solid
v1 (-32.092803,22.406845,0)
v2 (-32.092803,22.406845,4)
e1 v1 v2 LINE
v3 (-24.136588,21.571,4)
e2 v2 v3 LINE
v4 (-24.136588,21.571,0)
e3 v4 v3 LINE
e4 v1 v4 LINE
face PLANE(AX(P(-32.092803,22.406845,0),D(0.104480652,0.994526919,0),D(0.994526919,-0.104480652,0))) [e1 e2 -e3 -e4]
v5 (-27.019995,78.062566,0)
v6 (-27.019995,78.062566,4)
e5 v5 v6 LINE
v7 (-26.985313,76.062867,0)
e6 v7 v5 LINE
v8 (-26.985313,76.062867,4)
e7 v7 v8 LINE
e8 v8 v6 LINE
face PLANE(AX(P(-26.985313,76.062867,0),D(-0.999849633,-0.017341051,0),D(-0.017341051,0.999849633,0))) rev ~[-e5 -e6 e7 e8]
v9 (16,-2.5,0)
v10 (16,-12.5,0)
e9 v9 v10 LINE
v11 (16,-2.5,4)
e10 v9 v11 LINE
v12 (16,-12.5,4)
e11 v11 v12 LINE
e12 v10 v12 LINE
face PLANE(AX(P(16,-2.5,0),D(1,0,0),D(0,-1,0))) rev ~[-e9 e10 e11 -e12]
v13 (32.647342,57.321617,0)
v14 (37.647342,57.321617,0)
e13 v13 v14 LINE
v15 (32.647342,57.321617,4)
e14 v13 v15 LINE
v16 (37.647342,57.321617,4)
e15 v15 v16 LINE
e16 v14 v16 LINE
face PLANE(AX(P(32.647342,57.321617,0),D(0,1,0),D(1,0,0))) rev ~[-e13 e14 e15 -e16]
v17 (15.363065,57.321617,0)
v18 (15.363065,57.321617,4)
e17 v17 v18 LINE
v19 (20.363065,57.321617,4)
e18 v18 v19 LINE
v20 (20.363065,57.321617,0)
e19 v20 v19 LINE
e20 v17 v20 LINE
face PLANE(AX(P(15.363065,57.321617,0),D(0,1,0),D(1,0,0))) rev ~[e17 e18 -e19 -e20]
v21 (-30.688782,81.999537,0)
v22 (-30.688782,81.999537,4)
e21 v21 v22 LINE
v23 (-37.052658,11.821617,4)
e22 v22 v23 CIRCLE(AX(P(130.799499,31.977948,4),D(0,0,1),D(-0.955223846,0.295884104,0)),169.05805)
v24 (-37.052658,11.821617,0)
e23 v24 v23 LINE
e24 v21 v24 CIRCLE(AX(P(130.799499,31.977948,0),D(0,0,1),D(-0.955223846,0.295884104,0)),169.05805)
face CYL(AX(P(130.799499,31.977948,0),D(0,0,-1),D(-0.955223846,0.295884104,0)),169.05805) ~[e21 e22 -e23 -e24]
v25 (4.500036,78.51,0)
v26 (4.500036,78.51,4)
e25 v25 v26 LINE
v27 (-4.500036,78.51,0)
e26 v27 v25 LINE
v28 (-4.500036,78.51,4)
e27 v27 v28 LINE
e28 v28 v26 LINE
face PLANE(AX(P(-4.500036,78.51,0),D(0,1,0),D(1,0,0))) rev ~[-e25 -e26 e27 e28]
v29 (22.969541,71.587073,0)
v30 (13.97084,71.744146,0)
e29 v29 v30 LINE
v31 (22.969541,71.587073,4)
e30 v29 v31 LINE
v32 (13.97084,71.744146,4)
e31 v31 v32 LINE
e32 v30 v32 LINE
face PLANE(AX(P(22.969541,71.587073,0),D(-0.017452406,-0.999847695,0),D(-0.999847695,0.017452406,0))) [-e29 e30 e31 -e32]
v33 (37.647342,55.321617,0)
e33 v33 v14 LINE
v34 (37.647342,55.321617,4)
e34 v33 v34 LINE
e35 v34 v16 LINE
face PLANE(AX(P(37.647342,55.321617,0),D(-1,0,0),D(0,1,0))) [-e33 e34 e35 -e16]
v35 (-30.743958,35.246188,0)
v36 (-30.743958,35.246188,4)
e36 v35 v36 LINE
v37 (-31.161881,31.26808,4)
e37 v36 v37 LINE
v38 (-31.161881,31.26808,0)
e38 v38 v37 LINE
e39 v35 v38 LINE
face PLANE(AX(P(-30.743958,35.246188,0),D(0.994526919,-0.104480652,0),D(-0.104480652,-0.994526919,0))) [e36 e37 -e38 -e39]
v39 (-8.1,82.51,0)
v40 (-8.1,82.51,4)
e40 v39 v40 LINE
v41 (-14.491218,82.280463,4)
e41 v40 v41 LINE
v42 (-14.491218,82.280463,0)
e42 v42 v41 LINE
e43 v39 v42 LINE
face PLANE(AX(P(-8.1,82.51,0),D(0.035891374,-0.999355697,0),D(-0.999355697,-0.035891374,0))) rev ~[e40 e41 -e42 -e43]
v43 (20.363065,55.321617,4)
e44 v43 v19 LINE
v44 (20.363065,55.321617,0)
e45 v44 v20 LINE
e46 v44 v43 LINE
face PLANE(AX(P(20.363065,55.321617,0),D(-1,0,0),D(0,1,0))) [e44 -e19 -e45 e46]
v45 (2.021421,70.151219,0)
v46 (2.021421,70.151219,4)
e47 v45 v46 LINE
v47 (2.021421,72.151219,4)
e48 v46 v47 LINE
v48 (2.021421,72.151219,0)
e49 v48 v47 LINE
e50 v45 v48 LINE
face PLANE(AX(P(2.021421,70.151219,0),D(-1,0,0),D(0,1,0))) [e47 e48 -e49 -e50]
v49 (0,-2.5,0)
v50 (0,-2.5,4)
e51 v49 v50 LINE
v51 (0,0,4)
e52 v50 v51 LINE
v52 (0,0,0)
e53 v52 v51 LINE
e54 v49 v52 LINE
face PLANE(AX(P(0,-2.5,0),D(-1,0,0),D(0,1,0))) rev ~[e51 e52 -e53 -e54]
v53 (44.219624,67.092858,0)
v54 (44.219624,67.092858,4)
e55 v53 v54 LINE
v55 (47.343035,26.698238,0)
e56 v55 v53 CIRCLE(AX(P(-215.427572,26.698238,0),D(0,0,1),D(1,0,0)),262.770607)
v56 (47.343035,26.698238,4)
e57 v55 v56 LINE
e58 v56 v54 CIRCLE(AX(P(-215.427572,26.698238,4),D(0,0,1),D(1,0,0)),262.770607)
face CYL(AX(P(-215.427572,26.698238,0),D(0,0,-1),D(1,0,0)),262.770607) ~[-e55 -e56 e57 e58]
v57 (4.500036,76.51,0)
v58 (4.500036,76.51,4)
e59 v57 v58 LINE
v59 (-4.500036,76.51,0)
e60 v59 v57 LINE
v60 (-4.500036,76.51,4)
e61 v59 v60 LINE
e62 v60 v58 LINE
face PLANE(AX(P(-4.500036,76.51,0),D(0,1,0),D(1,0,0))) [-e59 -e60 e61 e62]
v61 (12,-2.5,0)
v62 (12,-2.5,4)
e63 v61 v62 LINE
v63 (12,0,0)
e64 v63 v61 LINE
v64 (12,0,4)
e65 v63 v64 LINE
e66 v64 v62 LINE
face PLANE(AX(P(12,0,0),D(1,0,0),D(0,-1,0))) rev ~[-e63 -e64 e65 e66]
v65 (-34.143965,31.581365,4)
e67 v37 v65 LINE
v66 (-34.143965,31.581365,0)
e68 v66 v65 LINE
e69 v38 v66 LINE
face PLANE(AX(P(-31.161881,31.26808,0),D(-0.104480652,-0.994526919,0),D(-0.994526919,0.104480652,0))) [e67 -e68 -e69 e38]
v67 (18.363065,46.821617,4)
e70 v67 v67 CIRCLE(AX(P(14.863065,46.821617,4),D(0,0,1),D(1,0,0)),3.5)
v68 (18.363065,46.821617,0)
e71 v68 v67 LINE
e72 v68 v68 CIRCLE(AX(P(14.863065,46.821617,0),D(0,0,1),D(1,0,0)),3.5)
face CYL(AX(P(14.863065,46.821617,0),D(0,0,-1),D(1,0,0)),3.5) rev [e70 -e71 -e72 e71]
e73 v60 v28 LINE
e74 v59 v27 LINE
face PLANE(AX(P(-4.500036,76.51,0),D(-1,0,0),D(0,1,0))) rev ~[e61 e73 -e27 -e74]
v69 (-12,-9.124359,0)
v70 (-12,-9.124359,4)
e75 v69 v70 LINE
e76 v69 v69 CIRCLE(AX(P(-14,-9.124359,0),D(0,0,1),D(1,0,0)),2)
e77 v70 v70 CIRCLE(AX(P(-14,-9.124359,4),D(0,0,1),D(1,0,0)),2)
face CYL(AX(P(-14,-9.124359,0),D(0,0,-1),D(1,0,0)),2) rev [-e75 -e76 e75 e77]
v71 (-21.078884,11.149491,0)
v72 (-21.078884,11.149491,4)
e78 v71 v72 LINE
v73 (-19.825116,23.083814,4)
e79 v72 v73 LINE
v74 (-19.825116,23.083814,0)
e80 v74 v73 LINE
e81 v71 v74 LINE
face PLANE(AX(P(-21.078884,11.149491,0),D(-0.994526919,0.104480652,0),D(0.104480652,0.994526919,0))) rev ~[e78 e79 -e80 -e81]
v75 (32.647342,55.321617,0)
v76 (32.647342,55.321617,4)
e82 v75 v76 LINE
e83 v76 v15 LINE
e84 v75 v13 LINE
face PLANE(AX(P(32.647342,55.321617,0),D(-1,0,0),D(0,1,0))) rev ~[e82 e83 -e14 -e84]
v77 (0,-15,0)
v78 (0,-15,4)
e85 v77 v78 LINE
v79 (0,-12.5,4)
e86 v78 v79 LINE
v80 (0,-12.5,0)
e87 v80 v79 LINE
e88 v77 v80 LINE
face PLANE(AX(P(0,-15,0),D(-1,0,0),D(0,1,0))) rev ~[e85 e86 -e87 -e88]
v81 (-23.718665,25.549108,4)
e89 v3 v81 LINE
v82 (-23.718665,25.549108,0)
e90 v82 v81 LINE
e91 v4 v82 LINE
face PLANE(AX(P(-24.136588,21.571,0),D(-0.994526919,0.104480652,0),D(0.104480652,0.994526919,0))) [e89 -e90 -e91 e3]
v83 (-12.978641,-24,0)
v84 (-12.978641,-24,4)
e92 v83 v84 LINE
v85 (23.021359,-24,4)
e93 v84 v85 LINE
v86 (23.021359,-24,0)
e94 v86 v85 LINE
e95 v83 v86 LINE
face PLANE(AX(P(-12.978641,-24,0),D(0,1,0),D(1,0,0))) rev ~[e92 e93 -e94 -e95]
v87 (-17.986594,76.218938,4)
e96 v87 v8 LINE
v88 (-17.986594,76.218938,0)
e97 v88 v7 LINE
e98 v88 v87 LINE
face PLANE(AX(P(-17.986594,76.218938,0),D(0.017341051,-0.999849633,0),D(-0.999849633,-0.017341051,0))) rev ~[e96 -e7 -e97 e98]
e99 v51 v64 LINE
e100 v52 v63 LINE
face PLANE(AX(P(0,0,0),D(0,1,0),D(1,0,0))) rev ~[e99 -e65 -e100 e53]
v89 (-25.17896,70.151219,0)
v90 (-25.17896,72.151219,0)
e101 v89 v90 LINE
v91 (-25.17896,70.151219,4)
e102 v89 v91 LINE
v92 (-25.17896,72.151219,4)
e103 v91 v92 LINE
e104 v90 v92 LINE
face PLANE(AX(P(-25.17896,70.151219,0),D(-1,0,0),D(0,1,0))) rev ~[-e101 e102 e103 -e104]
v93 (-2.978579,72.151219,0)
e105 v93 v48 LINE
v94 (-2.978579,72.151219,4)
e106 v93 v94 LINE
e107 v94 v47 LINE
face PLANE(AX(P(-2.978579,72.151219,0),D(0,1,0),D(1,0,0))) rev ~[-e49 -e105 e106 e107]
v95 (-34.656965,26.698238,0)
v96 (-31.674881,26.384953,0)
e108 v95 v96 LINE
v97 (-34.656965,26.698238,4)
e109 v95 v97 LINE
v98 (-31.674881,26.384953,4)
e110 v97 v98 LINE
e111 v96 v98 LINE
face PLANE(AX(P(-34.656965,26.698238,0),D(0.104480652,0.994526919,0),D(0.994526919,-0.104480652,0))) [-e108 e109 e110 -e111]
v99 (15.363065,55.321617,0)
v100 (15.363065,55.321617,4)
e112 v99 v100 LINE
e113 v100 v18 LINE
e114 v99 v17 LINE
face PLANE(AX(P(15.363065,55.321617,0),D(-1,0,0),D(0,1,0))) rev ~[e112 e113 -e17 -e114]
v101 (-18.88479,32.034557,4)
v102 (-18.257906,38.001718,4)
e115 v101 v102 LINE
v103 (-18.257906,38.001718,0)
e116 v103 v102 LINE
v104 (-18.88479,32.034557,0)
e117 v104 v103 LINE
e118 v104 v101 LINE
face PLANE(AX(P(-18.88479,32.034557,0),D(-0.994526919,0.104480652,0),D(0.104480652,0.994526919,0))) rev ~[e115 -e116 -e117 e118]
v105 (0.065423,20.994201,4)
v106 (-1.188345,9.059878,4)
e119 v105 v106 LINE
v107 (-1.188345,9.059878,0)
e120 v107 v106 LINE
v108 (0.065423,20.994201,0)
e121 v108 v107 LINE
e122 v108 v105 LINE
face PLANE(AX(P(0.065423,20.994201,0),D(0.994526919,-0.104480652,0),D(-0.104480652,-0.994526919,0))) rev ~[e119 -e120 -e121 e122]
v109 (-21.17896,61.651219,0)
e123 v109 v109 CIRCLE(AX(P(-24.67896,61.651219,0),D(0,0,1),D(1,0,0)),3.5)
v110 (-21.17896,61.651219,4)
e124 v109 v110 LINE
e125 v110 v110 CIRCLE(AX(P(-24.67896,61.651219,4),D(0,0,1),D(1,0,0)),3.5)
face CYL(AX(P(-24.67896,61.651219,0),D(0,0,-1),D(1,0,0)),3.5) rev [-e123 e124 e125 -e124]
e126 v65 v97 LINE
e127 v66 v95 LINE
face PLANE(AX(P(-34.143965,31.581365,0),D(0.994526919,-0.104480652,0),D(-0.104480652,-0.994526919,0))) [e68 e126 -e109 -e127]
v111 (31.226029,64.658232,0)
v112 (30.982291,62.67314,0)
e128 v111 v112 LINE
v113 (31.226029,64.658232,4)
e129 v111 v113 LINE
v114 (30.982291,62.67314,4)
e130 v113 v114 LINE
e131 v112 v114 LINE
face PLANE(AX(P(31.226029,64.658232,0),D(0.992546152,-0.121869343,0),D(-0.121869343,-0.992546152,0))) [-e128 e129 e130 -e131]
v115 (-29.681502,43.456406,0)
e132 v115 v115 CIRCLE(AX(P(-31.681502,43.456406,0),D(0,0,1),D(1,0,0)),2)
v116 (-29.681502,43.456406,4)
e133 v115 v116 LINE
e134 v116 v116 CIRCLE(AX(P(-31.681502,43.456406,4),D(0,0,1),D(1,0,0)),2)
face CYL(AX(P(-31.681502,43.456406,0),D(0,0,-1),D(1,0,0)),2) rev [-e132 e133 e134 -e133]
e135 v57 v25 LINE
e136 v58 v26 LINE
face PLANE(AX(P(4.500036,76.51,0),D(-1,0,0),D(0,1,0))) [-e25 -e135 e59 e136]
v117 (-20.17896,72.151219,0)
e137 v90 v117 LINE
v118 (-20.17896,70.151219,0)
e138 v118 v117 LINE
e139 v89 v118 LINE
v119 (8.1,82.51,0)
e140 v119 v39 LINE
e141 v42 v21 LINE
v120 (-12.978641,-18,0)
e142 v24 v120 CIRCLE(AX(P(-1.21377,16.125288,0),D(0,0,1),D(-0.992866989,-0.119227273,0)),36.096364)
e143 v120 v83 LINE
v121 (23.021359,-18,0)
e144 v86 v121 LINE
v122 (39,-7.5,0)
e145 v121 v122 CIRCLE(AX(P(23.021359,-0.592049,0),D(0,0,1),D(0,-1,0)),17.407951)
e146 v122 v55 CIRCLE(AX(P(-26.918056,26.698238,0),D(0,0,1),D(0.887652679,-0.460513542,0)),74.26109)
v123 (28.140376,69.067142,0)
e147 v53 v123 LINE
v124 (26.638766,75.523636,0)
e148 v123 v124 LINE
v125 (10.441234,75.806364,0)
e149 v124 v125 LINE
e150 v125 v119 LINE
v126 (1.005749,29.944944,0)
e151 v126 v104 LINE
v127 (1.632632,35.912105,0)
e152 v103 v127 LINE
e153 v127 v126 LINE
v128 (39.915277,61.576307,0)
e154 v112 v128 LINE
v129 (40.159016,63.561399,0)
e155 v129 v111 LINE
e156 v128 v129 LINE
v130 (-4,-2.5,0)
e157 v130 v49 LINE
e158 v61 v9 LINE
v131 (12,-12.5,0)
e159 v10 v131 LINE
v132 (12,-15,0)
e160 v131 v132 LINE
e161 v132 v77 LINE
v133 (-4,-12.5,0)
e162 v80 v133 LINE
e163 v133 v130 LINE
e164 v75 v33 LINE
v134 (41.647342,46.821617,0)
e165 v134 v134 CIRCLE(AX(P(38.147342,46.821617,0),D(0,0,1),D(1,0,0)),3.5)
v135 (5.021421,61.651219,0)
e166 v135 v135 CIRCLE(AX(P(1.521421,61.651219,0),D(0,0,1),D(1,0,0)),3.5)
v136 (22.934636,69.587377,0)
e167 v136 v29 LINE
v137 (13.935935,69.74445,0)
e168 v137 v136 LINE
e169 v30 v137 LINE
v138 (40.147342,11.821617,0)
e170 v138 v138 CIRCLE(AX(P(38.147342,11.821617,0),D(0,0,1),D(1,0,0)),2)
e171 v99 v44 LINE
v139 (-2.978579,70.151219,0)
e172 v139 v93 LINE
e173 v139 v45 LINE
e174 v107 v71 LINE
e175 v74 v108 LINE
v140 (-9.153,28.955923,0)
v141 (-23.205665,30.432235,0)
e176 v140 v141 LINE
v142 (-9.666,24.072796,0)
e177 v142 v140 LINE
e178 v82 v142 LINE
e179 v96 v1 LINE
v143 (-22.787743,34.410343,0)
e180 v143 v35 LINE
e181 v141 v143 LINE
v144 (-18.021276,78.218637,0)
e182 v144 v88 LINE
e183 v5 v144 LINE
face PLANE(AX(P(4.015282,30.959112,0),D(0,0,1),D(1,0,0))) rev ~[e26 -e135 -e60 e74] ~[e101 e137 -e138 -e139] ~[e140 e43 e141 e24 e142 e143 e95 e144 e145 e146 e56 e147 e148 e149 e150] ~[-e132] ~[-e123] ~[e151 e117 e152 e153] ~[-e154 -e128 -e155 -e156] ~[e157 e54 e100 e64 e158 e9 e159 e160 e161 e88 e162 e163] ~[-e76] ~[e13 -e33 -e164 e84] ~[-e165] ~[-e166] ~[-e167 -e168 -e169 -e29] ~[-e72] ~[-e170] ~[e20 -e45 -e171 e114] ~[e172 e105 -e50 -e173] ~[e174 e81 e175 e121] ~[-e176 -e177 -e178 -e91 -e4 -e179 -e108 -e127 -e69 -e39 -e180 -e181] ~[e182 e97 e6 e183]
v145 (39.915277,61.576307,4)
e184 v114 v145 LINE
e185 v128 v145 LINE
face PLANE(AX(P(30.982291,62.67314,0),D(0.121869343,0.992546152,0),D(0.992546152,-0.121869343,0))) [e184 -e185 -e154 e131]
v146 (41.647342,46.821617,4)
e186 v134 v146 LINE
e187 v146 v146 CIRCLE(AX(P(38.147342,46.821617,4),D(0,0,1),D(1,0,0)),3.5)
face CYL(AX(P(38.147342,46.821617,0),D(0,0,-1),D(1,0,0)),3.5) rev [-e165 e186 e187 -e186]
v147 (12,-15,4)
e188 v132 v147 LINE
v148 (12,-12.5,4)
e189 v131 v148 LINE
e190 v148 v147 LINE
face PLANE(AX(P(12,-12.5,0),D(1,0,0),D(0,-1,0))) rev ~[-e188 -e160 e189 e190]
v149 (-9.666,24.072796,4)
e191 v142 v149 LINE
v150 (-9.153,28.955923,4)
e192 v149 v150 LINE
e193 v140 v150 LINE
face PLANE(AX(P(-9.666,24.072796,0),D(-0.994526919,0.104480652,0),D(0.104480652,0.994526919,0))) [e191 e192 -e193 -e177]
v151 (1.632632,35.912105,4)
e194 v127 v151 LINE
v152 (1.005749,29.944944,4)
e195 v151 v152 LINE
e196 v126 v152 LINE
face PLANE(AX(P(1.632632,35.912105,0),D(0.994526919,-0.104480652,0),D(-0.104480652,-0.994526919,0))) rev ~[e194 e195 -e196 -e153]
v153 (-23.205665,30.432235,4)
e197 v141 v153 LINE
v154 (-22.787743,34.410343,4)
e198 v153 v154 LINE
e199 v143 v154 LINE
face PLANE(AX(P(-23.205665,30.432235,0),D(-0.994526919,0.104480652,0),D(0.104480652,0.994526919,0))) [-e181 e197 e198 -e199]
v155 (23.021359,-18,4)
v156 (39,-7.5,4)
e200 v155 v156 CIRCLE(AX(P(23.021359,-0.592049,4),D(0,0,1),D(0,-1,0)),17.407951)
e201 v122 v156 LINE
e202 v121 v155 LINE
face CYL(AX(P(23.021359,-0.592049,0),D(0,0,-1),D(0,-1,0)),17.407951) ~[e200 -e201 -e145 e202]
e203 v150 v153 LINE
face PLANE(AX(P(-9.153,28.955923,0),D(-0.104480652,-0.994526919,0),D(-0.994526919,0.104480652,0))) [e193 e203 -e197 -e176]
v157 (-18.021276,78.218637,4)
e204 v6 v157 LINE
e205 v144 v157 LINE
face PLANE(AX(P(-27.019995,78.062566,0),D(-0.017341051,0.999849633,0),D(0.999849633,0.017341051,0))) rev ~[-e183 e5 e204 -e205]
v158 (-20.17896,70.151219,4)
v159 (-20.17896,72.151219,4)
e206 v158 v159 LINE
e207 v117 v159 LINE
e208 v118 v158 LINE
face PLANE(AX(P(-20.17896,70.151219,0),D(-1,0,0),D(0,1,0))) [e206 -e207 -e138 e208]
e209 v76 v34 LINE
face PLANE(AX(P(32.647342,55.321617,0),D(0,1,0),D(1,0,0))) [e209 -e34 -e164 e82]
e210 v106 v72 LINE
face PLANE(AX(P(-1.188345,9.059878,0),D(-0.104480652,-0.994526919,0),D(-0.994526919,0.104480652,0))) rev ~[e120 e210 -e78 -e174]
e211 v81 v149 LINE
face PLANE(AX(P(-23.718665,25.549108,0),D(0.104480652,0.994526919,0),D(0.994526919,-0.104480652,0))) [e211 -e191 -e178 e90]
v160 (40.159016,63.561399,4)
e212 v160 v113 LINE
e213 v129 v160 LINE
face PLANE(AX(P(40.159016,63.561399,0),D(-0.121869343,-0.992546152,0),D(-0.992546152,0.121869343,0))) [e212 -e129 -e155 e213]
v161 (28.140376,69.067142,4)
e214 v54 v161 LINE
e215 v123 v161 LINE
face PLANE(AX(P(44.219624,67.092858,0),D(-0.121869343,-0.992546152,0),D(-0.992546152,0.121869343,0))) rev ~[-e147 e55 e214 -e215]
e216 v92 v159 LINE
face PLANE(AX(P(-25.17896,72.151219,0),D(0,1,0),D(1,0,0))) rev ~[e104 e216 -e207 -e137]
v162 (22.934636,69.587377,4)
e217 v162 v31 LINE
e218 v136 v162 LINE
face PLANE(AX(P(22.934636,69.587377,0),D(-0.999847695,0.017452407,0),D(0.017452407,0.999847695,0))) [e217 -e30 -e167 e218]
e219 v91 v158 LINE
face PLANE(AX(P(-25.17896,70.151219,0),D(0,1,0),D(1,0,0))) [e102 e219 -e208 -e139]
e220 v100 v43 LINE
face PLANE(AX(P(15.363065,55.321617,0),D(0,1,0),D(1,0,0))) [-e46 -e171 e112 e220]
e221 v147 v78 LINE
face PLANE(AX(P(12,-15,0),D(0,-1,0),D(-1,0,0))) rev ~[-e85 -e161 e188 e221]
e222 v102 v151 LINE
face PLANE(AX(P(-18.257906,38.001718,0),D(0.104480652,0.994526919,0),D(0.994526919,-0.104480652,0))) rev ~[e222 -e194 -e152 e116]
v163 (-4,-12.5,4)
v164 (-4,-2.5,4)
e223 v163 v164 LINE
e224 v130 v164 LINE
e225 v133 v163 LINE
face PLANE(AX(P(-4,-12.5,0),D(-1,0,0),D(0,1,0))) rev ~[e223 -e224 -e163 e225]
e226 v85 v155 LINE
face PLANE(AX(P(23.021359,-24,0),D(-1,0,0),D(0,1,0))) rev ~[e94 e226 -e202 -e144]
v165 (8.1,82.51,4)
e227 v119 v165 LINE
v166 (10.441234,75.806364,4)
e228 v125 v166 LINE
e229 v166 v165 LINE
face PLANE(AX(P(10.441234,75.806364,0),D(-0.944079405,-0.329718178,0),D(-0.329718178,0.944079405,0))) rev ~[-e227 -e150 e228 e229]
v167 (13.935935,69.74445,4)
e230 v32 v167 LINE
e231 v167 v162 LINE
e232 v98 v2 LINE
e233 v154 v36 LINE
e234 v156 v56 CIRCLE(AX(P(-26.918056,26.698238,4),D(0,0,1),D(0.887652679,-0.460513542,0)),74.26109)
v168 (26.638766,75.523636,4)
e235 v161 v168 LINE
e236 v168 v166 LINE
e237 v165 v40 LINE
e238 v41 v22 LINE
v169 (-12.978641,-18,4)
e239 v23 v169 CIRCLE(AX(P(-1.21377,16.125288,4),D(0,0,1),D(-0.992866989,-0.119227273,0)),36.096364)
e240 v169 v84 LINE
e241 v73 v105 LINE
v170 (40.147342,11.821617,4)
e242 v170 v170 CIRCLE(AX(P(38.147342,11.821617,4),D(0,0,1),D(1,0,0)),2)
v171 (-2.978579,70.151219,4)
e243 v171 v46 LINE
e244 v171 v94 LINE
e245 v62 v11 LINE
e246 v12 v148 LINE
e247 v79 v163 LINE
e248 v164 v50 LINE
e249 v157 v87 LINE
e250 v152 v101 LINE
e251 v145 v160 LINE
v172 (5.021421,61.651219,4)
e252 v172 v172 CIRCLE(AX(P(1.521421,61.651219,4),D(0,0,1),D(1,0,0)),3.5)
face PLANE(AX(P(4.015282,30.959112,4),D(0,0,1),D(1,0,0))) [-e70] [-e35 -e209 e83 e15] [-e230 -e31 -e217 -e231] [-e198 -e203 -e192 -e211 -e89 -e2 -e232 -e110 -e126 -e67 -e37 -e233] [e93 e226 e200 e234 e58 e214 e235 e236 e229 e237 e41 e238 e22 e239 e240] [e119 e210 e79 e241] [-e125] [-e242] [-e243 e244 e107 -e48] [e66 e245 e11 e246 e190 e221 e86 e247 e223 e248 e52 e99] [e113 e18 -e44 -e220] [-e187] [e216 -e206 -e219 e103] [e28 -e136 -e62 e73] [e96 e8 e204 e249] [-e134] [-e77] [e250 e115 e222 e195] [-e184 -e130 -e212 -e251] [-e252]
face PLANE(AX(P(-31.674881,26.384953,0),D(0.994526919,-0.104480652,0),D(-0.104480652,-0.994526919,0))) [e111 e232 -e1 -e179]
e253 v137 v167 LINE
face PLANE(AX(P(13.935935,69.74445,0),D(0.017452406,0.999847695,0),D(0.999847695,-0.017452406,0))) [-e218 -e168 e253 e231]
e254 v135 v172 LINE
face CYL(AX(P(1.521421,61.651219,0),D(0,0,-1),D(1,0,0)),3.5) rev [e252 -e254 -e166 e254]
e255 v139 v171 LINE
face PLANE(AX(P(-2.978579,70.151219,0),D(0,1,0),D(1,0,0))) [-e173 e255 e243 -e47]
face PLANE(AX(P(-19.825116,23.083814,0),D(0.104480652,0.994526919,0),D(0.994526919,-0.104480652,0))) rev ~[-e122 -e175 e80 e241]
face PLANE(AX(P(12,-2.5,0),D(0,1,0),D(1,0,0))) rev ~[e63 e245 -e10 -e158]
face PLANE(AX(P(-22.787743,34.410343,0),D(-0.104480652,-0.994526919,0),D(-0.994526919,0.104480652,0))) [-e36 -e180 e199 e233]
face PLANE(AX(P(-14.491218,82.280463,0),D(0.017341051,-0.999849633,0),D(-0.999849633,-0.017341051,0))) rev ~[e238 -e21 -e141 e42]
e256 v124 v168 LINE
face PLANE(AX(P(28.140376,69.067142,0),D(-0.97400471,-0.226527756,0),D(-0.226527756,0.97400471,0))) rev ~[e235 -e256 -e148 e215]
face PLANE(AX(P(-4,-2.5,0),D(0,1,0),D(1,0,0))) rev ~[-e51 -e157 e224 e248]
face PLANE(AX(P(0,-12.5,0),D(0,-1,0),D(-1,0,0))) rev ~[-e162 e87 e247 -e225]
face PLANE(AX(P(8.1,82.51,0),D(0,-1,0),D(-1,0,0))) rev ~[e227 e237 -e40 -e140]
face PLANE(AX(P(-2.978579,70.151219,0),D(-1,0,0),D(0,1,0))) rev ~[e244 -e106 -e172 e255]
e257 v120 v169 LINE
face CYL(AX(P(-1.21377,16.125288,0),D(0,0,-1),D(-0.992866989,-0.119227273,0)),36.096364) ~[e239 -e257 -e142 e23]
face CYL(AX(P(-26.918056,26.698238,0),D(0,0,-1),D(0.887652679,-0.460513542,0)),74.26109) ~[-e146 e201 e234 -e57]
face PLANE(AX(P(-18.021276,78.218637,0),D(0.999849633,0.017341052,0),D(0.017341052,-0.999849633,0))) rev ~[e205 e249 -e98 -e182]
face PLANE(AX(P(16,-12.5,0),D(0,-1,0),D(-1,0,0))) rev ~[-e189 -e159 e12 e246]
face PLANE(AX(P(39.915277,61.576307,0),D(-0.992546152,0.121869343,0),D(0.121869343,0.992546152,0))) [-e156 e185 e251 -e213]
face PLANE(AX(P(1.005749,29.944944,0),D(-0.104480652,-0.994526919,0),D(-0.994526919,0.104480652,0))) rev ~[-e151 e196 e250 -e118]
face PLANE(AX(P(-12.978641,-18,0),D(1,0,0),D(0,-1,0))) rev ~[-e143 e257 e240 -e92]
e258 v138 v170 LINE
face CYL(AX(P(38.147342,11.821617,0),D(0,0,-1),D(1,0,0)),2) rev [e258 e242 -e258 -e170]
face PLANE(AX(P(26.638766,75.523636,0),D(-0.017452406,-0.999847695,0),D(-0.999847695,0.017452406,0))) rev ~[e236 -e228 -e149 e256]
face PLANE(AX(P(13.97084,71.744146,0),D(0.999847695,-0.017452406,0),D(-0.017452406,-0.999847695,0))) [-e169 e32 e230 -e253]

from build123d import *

# Parameters (mm, degrees)
SKETCH1_R           = 2
SKETCH1_R_2         = 3.5
SKETCH1_W           = 9.000072
SKETCH1_H           = 2
SKETCH1_W_2         = 5
BOSS_EXTRUDE1_DEPTH = 4


with BuildPart() as part:
    # Sketch1 → Boss-Extrude1 (new body)
    with BuildSketch(Plane.XY):
        with BuildLine():
            Line((-12.978640908, -18), (-12.978640908, -24))
            Line((-12.978640908, -24), (23.021359092, -24))
            Line((23.021359092, -24), (23.021359092, -18))
            ThreePointArc((23.021359092, -18), (32.58126188, -15.140073441), (39, -7.5))
            ThreePointArc((39, -7.5), (45.227131985, 9.097629123), (47.343034567, 26.698237678))
            ThreePointArc((47.343034567, 26.698237678), (46.561018226, 46.955835458), (44.219623828, 67.092858318))
            Line((44.219623828, 67.092858318), (28.140376172, 69.067141682))
            Line((28.140376172, 69.067141682), (26.638766331, 75.523635508))
            Line((26.638766331, 75.523635508), (10.441233669, 75.806364492))
            Line((10.441233669, 75.806364492), (8.1, 82.51))
            Line((8.1, 82.51), (-8.1, 82.51))
            Line((-8.1, 82.51), (-14.491217975, 82.280462515))
            Line((-14.491217975, 82.280462515), (-30.688782025, 81.999537485))
            ThreePointArc((-30.688782025, 81.999537485), (-37.567707395, 47.245827753), (-37.052658257, 11.821617405))
            ThreePointArc((-37.052658257, 11.821617405), (-29.300451665, -6.548172019), (-12.978640908, -18))
        make_face()
        with Locations((38.147341743, 11.821617405)):
            Circle(SKETCH1_R, mode=Mode.SUBTRACT)
        with Locations((-24.678960076, 61.651218734)):
            Circle(SKETCH1_R_2, mode=Mode.SUBTRACT)
        with Locations((1.521420673, 61.651218734)):
            Circle(SKETCH1_R_2, mode=Mode.SUBTRACT)
        with Locations((14.86306514, 46.821617405)):
            Circle(SKETCH1_R_2, mode=Mode.SUBTRACT)
        with Locations((38.147341743, 46.821617405)):
            Circle(SKETCH1_R_2, mode=Mode.SUBTRACT)
        with Locations((-31.681501662, 43.456405989)):
            Circle(SKETCH1_R, mode=Mode.SUBTRACT)
        with Locations((-14, -9.124358763)):
            Circle(SKETCH1_R, mode=Mode.SUBTRACT)
        with Locations((0, 77.51)):
            Rectangle(SKETCH1_W, SKETCH1_H, mode=Mode.SUBTRACT)
        Polygon((-4, -2.5), (0, -2.5), (0, 0), (12, 0), (12, -2.5), (16, -2.5), (16, -12.5), (12, -12.5), (12, -15), (0, -15), (0, -12.5), (-4, -12.5), align=None, mode=Mode.SUBTRACT)
        with Locations((35.147341743, 56.321617405)):
            Rectangle(SKETCH1_W_2, SKETCH1_H, mode=Mode.SUBTRACT)
        Polygon((-27.019995137, 78.062566115), (-18.021276454, 78.218636824), (-17.986594351, 76.218937559), (-26.985313034, 76.062866849), align=None, mode=Mode.SUBTRACT)
        with Locations((17.86306514, 56.321617405)):
            Rectangle(SKETCH1_W_2, SKETCH1_H, mode=Mode.SUBTRACT)
        with Locations((-0.478579327, 71.151218734)):
            Rectangle(SKETCH1_W_2, SKETCH1_H, mode=Mode.SUBTRACT)
        Polygon((13.970839752, 71.744145677), (13.935934939, 69.744450286), (22.934636184, 69.587377372), (22.969540997, 71.587072762), align=None, mode=Mode.SUBTRACT)
        Polygon((40.15901604, 63.561398961), (31.226029212, 64.658231826), (30.982290526, 62.673139523), (39.915277354, 61.576306658), align=None, mode=Mode.SUBTRACT)
        Polygon((1.632632483, 35.912105076), (1.005748572, 29.944943559), (-18.884789816, 32.034556594), (-18.257905905, 38.00171811), align=None, mode=Mode.SUBTRACT)
        with Locations((-22.678960076, 71.151218734)):
            Rectangle(SKETCH1_W_2, SKETCH1_H, mode=Mode.SUBTRACT)
        Polygon((0.065422707, 20.994201285), (-1.188345114, 9.059878252), (-21.078883502, 11.149491286), (-19.825115681, 23.083814319), align=None, mode=Mode.SUBTRACT)
        Polygon((-9.666, 24.072796069), (-9.153, 28.955923243), (-23.205665371, 30.432234852), (-22.787742764, 34.410342529), (-30.743958119, 35.246187743), (-31.161880726, 31.268080066), (-34.143965433, 31.581364852), (-34.656965433, 26.698237678), (-31.674880726, 26.384952891), (-32.092803333, 22.406845214), (-24.136587978, 21.571), (-23.718665371, 25.549107678), align=None, mode=Mode.SUBTRACT)
    extrude(amount=BOSS_EXTRUDE1_DEPTH)


solid = part.part
